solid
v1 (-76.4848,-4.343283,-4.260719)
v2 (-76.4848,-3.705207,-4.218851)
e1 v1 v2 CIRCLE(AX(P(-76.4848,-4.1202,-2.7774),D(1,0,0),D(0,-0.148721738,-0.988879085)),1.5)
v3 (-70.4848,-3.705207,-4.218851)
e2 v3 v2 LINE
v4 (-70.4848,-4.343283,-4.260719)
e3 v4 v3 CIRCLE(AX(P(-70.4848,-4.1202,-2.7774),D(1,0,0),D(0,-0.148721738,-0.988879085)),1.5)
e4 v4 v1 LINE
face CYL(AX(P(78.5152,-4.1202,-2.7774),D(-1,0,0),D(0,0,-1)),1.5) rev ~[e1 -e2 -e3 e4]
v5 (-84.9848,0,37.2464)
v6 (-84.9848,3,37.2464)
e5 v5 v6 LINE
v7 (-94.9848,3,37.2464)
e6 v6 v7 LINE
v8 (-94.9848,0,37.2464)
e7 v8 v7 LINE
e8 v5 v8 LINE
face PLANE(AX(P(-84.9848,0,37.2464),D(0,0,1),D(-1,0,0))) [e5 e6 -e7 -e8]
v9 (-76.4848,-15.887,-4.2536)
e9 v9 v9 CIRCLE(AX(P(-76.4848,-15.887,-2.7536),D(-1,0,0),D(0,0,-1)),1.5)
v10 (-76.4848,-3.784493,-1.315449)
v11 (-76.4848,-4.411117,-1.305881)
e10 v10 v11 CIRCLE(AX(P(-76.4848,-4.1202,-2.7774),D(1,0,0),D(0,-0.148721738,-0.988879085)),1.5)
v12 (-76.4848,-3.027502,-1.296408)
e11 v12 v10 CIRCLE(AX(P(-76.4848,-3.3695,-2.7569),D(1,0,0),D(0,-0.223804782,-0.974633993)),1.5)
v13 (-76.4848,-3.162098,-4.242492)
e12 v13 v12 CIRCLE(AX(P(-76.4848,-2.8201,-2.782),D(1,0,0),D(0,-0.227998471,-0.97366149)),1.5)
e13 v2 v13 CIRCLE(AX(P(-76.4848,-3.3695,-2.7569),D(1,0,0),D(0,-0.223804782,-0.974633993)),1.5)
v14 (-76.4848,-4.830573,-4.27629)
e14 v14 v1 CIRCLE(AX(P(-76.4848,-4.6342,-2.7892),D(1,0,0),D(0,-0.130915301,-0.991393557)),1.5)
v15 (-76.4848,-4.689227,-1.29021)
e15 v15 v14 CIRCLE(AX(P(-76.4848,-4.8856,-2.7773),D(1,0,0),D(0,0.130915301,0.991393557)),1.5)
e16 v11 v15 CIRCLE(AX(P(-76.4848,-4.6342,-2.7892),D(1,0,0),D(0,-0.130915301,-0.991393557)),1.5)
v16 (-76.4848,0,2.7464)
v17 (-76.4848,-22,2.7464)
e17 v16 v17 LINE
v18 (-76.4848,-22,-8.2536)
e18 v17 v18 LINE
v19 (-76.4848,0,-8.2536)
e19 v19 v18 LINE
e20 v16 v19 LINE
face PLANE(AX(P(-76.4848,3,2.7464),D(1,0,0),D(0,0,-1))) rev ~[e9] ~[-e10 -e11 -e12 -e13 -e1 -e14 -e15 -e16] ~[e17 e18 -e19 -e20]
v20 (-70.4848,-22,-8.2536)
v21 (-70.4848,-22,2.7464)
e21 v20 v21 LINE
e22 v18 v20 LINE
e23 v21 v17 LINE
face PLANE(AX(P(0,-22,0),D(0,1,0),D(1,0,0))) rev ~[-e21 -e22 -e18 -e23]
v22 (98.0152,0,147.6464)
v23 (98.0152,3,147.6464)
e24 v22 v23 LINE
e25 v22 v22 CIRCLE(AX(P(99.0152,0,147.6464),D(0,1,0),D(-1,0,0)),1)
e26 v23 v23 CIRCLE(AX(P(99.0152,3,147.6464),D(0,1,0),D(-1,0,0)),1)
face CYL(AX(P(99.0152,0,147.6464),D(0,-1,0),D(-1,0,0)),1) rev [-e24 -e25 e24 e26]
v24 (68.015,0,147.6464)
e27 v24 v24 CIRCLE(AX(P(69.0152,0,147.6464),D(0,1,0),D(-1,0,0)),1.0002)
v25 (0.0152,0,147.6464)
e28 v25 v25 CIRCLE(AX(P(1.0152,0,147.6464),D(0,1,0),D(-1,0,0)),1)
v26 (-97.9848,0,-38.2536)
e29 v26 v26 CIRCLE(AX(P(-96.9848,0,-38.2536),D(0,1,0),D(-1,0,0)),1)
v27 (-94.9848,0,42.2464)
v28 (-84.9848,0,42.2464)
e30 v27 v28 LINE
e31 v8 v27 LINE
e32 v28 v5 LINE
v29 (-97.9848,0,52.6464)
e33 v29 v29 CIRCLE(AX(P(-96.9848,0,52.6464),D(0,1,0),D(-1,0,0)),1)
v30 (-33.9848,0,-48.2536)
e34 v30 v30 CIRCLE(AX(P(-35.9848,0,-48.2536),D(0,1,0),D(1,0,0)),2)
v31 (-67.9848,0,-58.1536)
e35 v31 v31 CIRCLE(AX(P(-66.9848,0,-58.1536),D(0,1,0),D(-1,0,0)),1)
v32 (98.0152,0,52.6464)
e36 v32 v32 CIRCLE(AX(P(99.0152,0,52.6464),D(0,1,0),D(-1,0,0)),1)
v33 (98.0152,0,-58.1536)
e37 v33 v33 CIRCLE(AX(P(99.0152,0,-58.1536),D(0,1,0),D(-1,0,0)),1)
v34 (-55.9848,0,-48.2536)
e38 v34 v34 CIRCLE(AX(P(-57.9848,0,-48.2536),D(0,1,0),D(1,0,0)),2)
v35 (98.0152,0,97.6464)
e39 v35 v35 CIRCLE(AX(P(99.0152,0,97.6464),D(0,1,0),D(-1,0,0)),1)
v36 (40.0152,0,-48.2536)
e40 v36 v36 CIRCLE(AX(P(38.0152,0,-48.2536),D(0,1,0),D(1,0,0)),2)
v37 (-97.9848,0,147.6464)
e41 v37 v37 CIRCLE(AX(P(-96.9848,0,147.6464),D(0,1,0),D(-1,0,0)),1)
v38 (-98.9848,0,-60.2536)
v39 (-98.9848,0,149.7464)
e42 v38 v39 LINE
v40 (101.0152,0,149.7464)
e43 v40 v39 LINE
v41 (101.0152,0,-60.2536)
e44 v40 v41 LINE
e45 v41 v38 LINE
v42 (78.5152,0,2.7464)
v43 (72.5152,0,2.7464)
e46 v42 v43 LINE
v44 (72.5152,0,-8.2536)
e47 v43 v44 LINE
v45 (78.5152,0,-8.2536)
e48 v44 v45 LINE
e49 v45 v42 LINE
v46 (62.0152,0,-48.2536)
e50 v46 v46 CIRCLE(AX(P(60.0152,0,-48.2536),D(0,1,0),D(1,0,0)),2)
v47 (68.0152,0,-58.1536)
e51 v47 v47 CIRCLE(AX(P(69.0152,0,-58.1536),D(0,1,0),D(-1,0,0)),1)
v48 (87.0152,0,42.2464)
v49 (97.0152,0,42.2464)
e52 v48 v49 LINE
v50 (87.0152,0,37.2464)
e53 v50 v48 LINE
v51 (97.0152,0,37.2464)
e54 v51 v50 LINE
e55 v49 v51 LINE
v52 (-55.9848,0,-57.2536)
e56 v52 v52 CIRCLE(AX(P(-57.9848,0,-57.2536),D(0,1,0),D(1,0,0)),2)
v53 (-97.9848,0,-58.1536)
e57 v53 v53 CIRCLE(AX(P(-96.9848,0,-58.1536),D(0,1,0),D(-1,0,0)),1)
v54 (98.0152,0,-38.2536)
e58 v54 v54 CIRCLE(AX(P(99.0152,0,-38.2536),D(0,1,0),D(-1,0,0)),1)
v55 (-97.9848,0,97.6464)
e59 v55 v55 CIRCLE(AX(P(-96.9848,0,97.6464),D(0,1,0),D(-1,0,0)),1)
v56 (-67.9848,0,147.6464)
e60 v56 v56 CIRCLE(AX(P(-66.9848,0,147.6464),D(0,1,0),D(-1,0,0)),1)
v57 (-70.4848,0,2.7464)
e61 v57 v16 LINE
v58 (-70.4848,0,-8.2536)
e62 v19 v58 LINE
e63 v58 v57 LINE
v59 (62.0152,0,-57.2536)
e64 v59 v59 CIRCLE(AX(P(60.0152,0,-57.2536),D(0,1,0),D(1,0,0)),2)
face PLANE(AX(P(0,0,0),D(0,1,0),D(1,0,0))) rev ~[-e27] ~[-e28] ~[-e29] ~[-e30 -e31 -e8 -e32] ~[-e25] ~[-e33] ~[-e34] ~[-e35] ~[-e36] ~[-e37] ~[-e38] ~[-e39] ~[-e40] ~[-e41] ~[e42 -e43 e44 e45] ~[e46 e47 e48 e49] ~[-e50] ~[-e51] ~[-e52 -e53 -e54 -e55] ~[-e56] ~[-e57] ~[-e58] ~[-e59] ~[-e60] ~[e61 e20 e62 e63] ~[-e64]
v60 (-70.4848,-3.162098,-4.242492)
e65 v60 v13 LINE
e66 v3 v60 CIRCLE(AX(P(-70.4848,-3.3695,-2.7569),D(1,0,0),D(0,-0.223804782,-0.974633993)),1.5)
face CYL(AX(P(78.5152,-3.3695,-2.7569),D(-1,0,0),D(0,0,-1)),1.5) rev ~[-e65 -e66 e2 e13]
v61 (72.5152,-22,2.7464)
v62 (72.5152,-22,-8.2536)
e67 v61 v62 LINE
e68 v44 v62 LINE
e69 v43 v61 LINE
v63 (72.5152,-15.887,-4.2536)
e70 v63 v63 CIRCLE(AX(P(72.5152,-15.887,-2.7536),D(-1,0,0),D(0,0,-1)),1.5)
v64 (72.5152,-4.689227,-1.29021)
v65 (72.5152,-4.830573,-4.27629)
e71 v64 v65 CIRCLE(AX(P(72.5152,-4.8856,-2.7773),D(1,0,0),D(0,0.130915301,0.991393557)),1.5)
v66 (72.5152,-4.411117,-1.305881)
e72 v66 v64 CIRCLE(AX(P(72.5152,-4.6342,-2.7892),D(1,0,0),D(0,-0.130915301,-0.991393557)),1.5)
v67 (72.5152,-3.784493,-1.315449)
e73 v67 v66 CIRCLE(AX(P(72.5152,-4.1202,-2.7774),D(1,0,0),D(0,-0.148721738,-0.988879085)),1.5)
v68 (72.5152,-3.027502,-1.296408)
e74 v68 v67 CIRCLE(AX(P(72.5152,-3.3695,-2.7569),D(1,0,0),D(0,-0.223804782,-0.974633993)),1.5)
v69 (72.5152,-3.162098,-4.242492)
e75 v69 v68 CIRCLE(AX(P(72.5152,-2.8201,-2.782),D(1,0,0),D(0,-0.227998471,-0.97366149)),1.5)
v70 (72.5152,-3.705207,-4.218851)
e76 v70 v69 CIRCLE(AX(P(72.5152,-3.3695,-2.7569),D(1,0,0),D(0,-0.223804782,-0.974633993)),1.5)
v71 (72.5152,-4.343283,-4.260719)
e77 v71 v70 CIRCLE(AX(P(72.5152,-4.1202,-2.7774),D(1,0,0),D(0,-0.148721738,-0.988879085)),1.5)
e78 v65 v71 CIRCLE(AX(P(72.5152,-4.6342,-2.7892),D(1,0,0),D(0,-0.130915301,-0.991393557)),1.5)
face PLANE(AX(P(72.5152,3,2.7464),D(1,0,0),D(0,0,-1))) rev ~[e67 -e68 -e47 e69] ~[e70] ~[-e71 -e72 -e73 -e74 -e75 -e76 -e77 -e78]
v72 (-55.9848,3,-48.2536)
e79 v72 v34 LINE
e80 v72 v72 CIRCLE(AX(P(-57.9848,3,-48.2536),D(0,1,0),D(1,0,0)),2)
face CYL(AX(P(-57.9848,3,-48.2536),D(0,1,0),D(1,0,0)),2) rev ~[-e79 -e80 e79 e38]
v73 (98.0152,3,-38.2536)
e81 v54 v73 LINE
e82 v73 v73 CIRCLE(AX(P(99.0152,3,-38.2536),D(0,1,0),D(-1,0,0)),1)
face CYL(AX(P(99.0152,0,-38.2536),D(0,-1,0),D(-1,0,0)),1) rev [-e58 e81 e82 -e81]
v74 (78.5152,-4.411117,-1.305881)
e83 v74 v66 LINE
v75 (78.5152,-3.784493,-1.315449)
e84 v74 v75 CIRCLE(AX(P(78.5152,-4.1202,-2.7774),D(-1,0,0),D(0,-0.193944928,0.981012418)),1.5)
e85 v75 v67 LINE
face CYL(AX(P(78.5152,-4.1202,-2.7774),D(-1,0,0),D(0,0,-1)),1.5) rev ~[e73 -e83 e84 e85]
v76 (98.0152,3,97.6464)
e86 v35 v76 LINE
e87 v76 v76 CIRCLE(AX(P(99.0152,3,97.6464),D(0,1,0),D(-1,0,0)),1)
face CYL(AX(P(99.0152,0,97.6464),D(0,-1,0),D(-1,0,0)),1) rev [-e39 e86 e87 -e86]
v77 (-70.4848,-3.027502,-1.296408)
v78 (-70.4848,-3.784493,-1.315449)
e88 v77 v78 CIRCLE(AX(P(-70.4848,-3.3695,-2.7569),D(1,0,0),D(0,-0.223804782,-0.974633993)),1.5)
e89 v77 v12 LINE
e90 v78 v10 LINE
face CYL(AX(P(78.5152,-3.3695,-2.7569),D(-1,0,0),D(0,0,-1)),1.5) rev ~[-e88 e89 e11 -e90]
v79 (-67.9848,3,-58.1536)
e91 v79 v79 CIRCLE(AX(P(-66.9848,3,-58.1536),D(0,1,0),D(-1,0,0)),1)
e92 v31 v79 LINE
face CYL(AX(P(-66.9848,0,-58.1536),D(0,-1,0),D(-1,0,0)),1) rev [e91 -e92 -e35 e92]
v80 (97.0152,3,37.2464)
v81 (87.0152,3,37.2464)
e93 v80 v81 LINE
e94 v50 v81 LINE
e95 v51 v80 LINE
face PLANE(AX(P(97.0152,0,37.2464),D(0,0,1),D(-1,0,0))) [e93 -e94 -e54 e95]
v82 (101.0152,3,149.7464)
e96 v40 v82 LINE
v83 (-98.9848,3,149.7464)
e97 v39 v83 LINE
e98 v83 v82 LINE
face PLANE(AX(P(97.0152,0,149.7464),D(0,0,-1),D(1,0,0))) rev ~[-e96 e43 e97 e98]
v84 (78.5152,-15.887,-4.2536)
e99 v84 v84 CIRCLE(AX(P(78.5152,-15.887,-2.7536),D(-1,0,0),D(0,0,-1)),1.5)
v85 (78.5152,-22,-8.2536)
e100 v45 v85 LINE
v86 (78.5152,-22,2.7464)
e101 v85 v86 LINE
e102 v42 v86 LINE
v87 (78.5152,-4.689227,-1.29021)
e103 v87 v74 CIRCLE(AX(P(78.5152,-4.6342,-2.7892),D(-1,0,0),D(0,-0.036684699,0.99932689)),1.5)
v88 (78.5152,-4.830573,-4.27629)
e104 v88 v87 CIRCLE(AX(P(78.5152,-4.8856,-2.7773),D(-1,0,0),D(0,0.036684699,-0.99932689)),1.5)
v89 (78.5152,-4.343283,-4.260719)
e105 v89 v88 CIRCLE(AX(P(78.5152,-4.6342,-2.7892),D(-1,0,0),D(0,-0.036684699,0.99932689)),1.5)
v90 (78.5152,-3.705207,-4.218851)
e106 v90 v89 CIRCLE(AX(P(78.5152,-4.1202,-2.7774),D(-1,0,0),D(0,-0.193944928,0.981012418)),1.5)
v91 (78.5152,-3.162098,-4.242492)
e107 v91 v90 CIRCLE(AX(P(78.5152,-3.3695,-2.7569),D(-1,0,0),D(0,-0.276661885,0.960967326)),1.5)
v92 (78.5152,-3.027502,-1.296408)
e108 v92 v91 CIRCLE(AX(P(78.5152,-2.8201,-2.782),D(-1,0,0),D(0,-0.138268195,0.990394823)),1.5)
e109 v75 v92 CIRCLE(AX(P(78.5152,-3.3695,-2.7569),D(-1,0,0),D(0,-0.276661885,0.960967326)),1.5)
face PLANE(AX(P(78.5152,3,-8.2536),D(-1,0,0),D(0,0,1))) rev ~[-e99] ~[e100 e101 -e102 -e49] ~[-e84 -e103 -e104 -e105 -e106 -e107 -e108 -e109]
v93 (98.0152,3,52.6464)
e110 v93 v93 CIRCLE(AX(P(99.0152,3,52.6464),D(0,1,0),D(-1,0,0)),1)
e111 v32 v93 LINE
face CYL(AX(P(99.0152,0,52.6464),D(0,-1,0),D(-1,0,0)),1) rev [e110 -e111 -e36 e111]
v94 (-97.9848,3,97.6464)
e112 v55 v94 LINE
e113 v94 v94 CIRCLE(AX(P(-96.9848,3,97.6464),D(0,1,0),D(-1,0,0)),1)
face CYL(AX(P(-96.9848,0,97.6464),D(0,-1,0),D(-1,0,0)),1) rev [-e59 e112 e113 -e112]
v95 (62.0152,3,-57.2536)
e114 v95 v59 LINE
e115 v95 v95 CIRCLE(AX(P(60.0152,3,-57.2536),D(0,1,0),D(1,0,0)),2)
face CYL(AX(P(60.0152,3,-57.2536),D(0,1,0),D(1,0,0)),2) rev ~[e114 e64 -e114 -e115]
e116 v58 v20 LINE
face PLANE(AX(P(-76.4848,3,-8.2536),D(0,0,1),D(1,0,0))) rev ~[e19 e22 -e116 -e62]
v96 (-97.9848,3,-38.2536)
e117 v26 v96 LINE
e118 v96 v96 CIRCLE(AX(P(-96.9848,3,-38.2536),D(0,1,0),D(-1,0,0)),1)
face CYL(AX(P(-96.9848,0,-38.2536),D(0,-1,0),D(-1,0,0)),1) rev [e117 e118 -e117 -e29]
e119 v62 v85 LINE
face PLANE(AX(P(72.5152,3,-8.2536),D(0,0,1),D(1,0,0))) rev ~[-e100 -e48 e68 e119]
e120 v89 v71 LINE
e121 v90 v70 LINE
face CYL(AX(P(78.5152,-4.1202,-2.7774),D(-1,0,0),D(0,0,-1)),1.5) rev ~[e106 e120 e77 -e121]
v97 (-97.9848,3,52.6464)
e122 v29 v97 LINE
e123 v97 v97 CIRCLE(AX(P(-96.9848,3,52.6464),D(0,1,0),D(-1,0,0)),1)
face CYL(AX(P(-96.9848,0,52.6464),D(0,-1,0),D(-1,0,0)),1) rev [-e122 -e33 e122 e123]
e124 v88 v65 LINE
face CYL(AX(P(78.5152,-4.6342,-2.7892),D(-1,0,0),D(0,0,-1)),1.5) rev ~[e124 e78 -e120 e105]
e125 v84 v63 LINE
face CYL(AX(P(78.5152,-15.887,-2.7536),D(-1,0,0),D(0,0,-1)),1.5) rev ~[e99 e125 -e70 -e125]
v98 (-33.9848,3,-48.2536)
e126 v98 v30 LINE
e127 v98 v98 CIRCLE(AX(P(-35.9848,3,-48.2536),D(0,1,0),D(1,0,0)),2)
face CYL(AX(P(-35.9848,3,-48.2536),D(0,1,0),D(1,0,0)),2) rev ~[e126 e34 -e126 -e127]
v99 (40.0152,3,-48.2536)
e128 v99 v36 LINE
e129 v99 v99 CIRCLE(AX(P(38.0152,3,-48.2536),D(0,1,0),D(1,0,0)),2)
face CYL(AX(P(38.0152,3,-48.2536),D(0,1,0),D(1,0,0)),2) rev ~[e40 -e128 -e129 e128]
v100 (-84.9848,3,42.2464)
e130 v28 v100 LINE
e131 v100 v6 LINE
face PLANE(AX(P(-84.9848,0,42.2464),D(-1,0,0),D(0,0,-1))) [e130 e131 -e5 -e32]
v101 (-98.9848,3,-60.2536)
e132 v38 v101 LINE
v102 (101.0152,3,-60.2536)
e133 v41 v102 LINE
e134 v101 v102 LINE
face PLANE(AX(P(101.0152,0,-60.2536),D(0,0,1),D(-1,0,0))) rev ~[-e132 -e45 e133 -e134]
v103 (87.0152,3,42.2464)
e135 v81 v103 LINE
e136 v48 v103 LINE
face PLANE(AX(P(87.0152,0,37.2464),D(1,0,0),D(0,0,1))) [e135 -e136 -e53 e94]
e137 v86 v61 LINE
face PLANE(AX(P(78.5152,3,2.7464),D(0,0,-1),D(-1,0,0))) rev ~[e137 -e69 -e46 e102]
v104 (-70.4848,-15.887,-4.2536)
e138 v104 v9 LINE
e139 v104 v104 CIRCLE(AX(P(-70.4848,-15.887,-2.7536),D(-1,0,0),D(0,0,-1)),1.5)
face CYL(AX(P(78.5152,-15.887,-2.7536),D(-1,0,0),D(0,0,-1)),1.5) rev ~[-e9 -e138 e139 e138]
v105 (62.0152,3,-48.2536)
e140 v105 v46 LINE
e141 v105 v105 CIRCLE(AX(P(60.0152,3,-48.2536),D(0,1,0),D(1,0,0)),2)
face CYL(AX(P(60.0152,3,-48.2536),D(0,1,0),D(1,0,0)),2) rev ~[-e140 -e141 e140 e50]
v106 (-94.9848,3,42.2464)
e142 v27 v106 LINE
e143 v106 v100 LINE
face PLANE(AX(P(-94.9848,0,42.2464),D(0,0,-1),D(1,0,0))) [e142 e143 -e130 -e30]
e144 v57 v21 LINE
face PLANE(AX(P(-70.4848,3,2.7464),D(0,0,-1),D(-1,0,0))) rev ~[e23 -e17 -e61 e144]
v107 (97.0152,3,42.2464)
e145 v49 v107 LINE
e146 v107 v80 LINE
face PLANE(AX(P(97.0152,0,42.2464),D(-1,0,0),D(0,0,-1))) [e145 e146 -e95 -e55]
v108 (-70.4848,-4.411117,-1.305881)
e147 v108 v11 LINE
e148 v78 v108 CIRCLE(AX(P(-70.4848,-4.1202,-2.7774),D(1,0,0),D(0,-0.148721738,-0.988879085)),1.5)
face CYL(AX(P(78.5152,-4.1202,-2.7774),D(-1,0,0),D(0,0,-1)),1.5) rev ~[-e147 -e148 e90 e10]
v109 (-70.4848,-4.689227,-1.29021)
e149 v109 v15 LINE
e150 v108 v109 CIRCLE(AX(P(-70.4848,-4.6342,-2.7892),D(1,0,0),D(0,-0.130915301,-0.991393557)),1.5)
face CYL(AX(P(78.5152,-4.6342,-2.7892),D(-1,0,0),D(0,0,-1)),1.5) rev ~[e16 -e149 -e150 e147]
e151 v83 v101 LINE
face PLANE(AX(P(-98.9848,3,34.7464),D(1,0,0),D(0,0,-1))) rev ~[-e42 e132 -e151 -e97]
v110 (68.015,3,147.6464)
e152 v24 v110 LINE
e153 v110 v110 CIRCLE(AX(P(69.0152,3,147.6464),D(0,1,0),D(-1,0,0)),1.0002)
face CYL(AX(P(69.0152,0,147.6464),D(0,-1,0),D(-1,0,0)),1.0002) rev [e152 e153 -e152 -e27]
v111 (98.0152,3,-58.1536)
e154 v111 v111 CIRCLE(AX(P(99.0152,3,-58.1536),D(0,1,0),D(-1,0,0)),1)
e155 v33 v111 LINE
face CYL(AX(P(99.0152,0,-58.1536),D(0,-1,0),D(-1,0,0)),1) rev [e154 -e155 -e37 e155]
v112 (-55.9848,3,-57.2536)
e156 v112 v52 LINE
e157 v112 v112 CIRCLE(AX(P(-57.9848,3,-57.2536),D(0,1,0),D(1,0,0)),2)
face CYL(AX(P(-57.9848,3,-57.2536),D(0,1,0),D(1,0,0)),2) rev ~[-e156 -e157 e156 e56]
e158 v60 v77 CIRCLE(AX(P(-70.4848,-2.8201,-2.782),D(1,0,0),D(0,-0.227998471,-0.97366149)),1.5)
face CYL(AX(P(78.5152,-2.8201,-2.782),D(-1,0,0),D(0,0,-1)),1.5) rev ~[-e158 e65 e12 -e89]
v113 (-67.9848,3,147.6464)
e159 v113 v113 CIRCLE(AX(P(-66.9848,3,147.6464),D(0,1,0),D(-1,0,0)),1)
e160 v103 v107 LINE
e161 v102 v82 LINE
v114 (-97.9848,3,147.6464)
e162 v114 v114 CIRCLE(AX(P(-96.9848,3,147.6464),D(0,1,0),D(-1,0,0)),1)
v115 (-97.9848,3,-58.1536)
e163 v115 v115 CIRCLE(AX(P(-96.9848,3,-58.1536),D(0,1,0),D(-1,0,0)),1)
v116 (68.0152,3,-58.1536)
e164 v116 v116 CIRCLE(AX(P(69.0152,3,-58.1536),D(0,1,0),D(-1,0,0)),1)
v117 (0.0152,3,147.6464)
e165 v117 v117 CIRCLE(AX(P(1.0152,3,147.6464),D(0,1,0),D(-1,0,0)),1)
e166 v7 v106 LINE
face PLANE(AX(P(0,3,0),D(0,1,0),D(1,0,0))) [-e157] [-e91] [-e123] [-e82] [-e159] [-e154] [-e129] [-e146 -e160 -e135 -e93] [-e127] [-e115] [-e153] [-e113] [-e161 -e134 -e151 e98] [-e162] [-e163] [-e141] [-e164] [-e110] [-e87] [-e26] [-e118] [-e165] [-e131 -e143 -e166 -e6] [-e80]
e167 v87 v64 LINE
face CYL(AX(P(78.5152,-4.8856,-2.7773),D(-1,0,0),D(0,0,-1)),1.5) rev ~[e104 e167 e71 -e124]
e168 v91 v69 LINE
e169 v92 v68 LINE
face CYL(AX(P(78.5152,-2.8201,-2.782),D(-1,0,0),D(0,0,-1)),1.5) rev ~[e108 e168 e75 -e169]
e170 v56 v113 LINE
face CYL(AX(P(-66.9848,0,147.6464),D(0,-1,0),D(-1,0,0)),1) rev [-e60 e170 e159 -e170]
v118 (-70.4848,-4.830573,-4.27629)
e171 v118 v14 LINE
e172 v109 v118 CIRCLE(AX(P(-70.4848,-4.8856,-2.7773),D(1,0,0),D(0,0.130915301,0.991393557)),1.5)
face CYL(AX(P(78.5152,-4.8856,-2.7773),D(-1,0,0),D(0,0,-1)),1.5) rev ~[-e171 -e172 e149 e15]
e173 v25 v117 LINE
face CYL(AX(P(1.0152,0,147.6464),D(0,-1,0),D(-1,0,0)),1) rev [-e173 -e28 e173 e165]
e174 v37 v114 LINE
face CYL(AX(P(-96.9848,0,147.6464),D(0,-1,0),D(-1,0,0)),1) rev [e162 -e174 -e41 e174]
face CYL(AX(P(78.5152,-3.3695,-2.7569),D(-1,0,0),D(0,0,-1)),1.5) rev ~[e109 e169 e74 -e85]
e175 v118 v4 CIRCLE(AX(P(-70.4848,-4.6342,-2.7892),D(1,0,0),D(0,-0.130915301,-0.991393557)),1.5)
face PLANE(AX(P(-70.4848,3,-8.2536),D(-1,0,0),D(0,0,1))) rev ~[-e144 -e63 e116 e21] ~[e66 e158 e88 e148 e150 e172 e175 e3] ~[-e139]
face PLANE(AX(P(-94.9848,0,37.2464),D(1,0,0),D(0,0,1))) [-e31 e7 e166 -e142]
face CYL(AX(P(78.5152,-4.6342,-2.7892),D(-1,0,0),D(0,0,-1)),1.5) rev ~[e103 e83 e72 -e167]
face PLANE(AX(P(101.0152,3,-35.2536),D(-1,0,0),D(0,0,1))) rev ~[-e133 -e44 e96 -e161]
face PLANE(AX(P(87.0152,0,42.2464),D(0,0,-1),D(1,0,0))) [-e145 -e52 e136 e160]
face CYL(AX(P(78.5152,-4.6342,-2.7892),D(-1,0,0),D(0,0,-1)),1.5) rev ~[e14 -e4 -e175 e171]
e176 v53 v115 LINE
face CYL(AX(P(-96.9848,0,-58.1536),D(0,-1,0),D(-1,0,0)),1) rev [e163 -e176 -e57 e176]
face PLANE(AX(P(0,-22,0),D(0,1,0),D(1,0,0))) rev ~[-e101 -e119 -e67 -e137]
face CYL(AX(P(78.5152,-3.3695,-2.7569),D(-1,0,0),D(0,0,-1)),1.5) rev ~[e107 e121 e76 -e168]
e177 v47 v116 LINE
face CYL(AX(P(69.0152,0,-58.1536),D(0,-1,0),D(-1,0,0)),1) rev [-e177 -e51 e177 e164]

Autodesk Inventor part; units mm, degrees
ref_plane "YZ Plane" through (0, 0, 0) normal (1, 0, 0) x (0, 1, 0)
ref_plane "XZ Plane" through (0, 0, 0) normal (0, 1, 0) x (-1, 0, 0)
ref_plane "XY Plane" through (0, 0, 0) normal (0, 0, 1) x (1, 0, 0)
sketch "Sketch1" plane through (0, 0, 0) normal (0, 1, 0) x (-1, 0, 0)
  line L0 (-101.0152, -60.2536) -> (98.9848, -60.2536)
  line L1 (98.9848, -60.2536) -> (98.9848, 149.7464)
  line L2 (98.9848, 149.7464) -> (-101.0152, 149.7464)
  line L3 (-101.0152, 149.7464) -> (-101.0152, -60.2536)
  line L4 (-101.0152, -60.2536) -> (98.9848, 149.7464) construction
  line L5 (98.9848, -60.2536) -> (-101.0152, 149.7464) construction
  line L6 (-65.0152, -60.2536) -> (62.9848, -60.2536)
  line L7 (62.9848, -60.2536) -> (62.9848, -45.2536)
  line L8 (62.9848, -45.2536) -> (-65.0152, -45.2536)
  line L9 (-65.0152, -45.2536) -> (-65.0152, -60.2536)
  line L10 (98.9848, -35.2536) -> (76.9848, -35.2536)
  line L11 (76.9848, -35.2536) -> (76.9848, 34.7464)
  line L12 (76.9848, 34.7464) -> (98.9848, 34.7464)
  line L13 (98.9848, 34.7464) -> (98.9848, -35.2536)
  line L14 (-101.0152, -35.2536) -> (-79.0152, -35.2536)
  line L15 (-79.0152, -35.2536) -> (-79.0152, 34.7464)
  line L16 (-79.0152, 34.7464) -> (-101.0152, 34.7464)
  line L17 (-101.0152, 34.7464) -> (-101.0152, -35.2536)
  line L18 (84.9848, 37.2464) -> (94.9848, 37.2464)
  line L19 (94.9848, 37.2464) -> (94.9848, 42.2464)
  line L20 (94.9848, 42.2464) -> (84.9848, 42.2464)
  line L21 (84.9848, 42.2464) -> (84.9848, 37.2464)
  line L22 (84.9848, 37.2464) -> (94.9848, 42.2464) construction
  line L23 (94.9848, 37.2464) -> (84.9848, 42.2464) construction
  line L24 (-97.0152, 37.2464) -> (-87.0152, 37.2464)
  line L25 (-87.0152, 37.2464) -> (-87.0152, 42.2464)
  line L26 (-87.0152, 42.2464) -> (-97.0152, 42.2464)
  line L27 (-97.0152, 42.2464) -> (-97.0152, 37.2464)
  line L28 (-97.0152, 37.2464) -> (-87.0152, 42.2464) construction
  line L29 (-87.0152, 37.2464) -> (-97.0152, 42.2464) construction
  line L30 (-78.5152, 2.7464) -> (-72.5152, 2.7464)
  line L31 (-72.5152, 2.7464) -> (-72.5152, -8.2536)
  line L32 (-72.5152, -8.2536) -> (-78.5152, -8.2536)
  line L33 (-78.5152, -8.2536) -> (-78.5152, 2.7464)
  line L34 (70.4848, 2.7464) -> (76.4848, 2.7464)
  line L35 (76.4848, 2.7464) -> (76.4848, -8.2536)
  line L36 (76.4848, -8.2536) -> (70.4848, -8.2536)
  line L37 (70.4848, -8.2536) -> (70.4848, 2.7464)
  line L38 (-101.0152, 149.7464) -> (-97.0152, 149.7464)
  circle A0 centre (-99.0152, 147.6464) radius 1
  line L39 (-101.0152, -60.2536) -> (-97.0152, -60.2536)
  line L40 (-101.0152, -36.2536) -> (-101.0152, -60.2536)
  circle A1 centre (-99.0152, -58.1536) radius 1
  circle A2 centre (-99.0152, -38.2536) radius 1
  circle A3 centre (-99.0152, 97.6464) radius 1
  circle A4 centre (-99.0152, 52.6464) radius 1
  circle A5 centre (-69.0152, -58.1536) radius 1
  circle A6 centre (96.9848, -58.1536) radius 1
  circle A7 centre (66.9848, -58.1536) radius 1
  circle A8 centre (96.9848, -38.2536) radius 1
  circle A9 centre (96.9848, 52.6464) radius 1
  circle A10 centre (96.9848, 97.6464) radius 1
  circle A11 centre (96.9848, 147.6464) radius 1
  circle A12 centre (66.9848, 147.6464) radius 1
  circle A13 centre (-69.0152, 147.6464) radius 1.0002
  circle A14 centre (-1.0152, 147.6464) radius 1
  point P0 (-1.0152, 44.7464)
  point P1 (89.9848, 39.7464)
  point P2 (-92.0152, 39.7464)
  point P3 (-101.0152, 34.7464)
  point P4 (98.9848, 34.7464)
  point P5 (62.9848, -60.2536)
  point P6 (-90.0152, -35.2536)
  point P7 (87.9848, 34.7464)
  point P8 (-90.0152, 34.7464)
  point P9 (-99.0152, -60.2536)
  point P10 (-99.0152, 149.7464)
  dimension "d22" = 200
  dimension "d23" = 210
  dimension "d24" = 15
  dimension "d25" = 128
  dimension "d26" = 36
  dimension "d27" = 22
  dimension "d28" = 70
  dimension "d29" = 10
  dimension "d30" = 22
  dimension "d31" = 70
  dimension "d32" = 10
  dimension "d33" = 5
  dimension "d34" = 10
  dimension "d35" = 5
  dimension "d58" = 10
  dimension "d70" = 5
  dimension "d71" = 11
  dimension "d72" = 6
  dimension "d73" = 52
  dimension "d74" = 22.5
  dimension "d75" = 6
  dimension "d76" = 11
  dimension "d77" = 52
  dimension "d78" = 22.5
  dimension "d83" = 4
  dimension "d84" = 4
  dimension "d85" = 5
  dimension "d88" = 2
  dimension "d91" = 2
  dimension "d92" = 2
  dimension "d93" = 22
  dimension "d94" = 2.1
  dimension "d95" = 2
  dimension "d96" = 2
  dimension "d97" = 2.1
  dimension "d98" = 2
  dimension "d99" = 50
  dimension "d100" = 2
  dimension "d101" = 95
  dimension "d102" = 2
  dimension "d104" = 2
  dimension "d105" = 2
  dimension "d106" = 2.1
  dimension "d107" = 2.1
  dimension "d108" = 2
  dimension "d109" = 22
  dimension "d112" = 2.1
  dimension "d113" = 32
  dimension "d114" = 2.1
  dimension "d115" = 32
  dimension "d116" = 32
  dimension "d117" = 2.1
  dimension "d118" = 2
  dimension "d119" = 2.1
  dimension "d120" = 100
  dimension "d122" = 2
  dimension "d123" = 2
  dimension "d124" = 2
  dimension "d125" = 2
  dimension "d126" = 2
  dimension "d178" = 32
  dimension "d179" = 50
  dimension "d180" = 95
extrude "Body" add sketch "Sketch1" along normal blind 3 contours L3 L14 L15 L16 L2 L1 L12 L11 L10 L0 L7 L8 L9
sketch "Sketch3" plane through (0, 3, 0) normal (0, 1, 0) x (1, 0, 0)
  line L0 (65.0152, 60.2536) -> (65.0152, 45.2536) projected
  line L1 (-62.9848, 60.2536) -> (-98.9848, 60.2536) projected
  line L2 (65.0152, 45.2536) -> (-62.9848, 45.2536)
  line L3 (-62.9848, 45.2536) -> (-62.9848, 60.2536)
  line L4 (-62.9848, 60.2536) -> (65.0152, 60.2536)
  line L5 (65.0152, 60.2536) -> (65.0152, 45.2536)
  circle A0 centre (60.0152, 48.2536) radius 2
  circle A1 centre (60.0152, 57.2536) radius 2
  circle A2 centre (38.0152, 48.2536) radius 2
  circle A3 centre (-57.9848, 57.2536) radius 2
  circle A4 centre (-57.9848, 48.2536) radius 2
  circle A5 centre (-35.9848, 48.2536) radius 2
  point P0 (0, 0)
  point P1 (65.0152, 60.2536)
  dimension "d38" = 4
  dimension "d39" = 5
  dimension "d40" = 3
  dimension "d41" = 4
  dimension "d42" = 3
  dimension "d43" = 5
  dimension "d44" = 4
  dimension "d45" = 27
  dimension "d46" = 3
  dimension "d47" = 4
  dimension "d48" = 3
  dimension "d49" = 5
  dimension "d50" = 4
  dimension "d51" = 5
  dimension "d52" = 3
  dimension "d53" = 4
  dimension "d54" = 3
  dimension "d55" = 27
extrude "IRSensor" add sketch "Sketch3" against normal blind 3
sketch "Sketch4" plane through (0, 3, 0) normal (0, 1, 0) x (1, 0, 0)
  line L0 (101.0152, -34.7464) -> (79.0152, -34.7464)
  line L1 (79.0152, -34.7464) -> (79.0152, 35.2536)
  line L2 (79.0152, 35.2536) -> (101.0152, 35.2536)
  line L3 (101.0152, 35.2536) -> (101.0152, -34.7464)
  point P0 (0, 0)
extrude "RodaKrMark" add sketch "Sketch4" against normal blind 3
sketch "Sketch5" plane through (0, 3, 0) normal (0, 1, 0) x (1, 0, 0)
  line L0 (-76.9848, 35.2536) -> (-76.9848, -34.7464) projected
  line L1 (-98.9848, 35.2536) -> (-76.9848, 35.2536) projected
  line L2 (-76.9848, -34.7464) -> (-98.9848, -34.7464)
  line L3 (-98.9848, -34.7464) -> (-98.9848, 35.2536)
  line L4 (-98.9848, 35.2536) -> (-76.9848, 35.2536)
  line L5 (-76.9848, 35.2536) -> (-76.9848, -34.7464)
  point P0 (0, 0)
extrude "RodaKaMark" add sketch "Sketch5" against normal blind 3
sketch "Sketch6" plane through (0, 3, 0) normal (0, 1, 0) x (1, 0, 0)
  line L0 (78.5152, -2.7464) -> (72.5152, -2.7464) projected
  line L1 (72.5152, 8.2536) -> (78.5152, 8.2536) projected
  line L2 (78.5152, -2.7464) -> (72.5152, -2.7464)
  line L3 (72.5152, -2.7464) -> (72.5152, 8.2536)
  line L4 (72.5152, 8.2536) -> (78.5152, 8.2536)
  line L5 (78.5152, 8.2536) -> (78.5152, -2.7464)
  point P0 (0, 0)
extrude "Extrusion5" add sketch "Sketch6" against normal blind 25
sketch "Sketch8" plane through (0, 3, 0) normal (0, 1, 0) x (1, 0, 0)
  line L0 (-76.4848, -2.7464) -> (-76.4848, 8.2536) projected
  line L1 (-76.4848, 8.2536) -> (-70.4848, 8.2536)
  line L2 (-70.4848, 8.2536) -> (-70.4848, -2.7464)
  line L3 (-70.4848, -2.7464) -> (-76.4848, -2.7464)
  line L4 (-76.4848, -2.7464) -> (-76.4848, 8.2536)
  point P0 (0, 0)
extrude "Extrusion6" add sketch "Sketch8" against normal blind 25
sketch "Sketch9" plane through (78.5152, 0, 2.7464) normal (1, 0, 0) x (0, 0, -1)
  line L0 (11, 0) -> (11, -22) projected
  line L1 (63, 0) -> (-147, 0) projected
  line L2 (11, -22) -> (0, -22)
  line L3 (0, -22) -> (0, 0)
  line L4 (0, 0) -> (11, 0)
  line L5 (11, 0) -> (11, -22)
  circle A0 centre (5.5, -4.887) radius 1.5
  circle A1 centre (5.5, -15.887) radius 1.5
  point P0 (2.7464, 0)
  dimension "d146" = 11
  dimension "d147" = 3
  dimension "d148" = 3
  dimension "d149" = 11
hole "BautBawah" at (78.5152, -15.887, -2.7536) direction (-1, 0, 0) diameter 3 end through all
sketch "Sketch10" plane through (78.5152, 0, 2.7464) normal (1, 0, 0) x (0, 0, -1)
  point P0 (2.7464, 0)
  point P1 (5.5237, -4.8856)
hole "Hole2" at (78.5152, -4.8856, -2.7773) direction (-1, 0, 0) diameter 3 end through all
sketch "Sketch11" plane through (78.5152, 0, 2.7464) normal (1, 0, 0) x (0, 0, -1)
  point P0 (2.7464, 0)
  point P1 (5.5357, -4.6342)
hole "Hole3" at (78.5152, -4.6342, -2.7892) direction (-1, 0, 0) diameter 3 end through all
sketch "Sketch12" plane through (78.5152, 0, 2.7464) normal (1, 0, 0) x (0, 0, -1)
  point P0 (2.7464, 0)
  point P1 (5.5238, -4.1202)
hole "Hole4" at (78.5152, -4.1202, -2.7774) direction (-1, 0, 0) diameter 3 end through all
sketch "Sketch13" plane through (78.5152, 0, 2.7464) normal (1, 0, 0) x (0, 0, -1)
  point P0 (2.7464, 0)
  point P1 (5.5033, -3.3695)
hole "Hole5" at (78.5152, -3.3695, -2.7569) direction (-1, 0, 0) diameter 3 end through all
sketch "Sketch14" plane through (78.5152, 0, 2.7464) normal (1, 0, 0) x (0, 0, -1)
  point P0 (2.7464, 0)
  point P1 (5.5284, -2.8201)
hole "Hole6" at (78.5152, -2.8201, -2.782) direction (-1, 0, 0) diameter 3 end through all
properties part number "DesignBawahRobot"
